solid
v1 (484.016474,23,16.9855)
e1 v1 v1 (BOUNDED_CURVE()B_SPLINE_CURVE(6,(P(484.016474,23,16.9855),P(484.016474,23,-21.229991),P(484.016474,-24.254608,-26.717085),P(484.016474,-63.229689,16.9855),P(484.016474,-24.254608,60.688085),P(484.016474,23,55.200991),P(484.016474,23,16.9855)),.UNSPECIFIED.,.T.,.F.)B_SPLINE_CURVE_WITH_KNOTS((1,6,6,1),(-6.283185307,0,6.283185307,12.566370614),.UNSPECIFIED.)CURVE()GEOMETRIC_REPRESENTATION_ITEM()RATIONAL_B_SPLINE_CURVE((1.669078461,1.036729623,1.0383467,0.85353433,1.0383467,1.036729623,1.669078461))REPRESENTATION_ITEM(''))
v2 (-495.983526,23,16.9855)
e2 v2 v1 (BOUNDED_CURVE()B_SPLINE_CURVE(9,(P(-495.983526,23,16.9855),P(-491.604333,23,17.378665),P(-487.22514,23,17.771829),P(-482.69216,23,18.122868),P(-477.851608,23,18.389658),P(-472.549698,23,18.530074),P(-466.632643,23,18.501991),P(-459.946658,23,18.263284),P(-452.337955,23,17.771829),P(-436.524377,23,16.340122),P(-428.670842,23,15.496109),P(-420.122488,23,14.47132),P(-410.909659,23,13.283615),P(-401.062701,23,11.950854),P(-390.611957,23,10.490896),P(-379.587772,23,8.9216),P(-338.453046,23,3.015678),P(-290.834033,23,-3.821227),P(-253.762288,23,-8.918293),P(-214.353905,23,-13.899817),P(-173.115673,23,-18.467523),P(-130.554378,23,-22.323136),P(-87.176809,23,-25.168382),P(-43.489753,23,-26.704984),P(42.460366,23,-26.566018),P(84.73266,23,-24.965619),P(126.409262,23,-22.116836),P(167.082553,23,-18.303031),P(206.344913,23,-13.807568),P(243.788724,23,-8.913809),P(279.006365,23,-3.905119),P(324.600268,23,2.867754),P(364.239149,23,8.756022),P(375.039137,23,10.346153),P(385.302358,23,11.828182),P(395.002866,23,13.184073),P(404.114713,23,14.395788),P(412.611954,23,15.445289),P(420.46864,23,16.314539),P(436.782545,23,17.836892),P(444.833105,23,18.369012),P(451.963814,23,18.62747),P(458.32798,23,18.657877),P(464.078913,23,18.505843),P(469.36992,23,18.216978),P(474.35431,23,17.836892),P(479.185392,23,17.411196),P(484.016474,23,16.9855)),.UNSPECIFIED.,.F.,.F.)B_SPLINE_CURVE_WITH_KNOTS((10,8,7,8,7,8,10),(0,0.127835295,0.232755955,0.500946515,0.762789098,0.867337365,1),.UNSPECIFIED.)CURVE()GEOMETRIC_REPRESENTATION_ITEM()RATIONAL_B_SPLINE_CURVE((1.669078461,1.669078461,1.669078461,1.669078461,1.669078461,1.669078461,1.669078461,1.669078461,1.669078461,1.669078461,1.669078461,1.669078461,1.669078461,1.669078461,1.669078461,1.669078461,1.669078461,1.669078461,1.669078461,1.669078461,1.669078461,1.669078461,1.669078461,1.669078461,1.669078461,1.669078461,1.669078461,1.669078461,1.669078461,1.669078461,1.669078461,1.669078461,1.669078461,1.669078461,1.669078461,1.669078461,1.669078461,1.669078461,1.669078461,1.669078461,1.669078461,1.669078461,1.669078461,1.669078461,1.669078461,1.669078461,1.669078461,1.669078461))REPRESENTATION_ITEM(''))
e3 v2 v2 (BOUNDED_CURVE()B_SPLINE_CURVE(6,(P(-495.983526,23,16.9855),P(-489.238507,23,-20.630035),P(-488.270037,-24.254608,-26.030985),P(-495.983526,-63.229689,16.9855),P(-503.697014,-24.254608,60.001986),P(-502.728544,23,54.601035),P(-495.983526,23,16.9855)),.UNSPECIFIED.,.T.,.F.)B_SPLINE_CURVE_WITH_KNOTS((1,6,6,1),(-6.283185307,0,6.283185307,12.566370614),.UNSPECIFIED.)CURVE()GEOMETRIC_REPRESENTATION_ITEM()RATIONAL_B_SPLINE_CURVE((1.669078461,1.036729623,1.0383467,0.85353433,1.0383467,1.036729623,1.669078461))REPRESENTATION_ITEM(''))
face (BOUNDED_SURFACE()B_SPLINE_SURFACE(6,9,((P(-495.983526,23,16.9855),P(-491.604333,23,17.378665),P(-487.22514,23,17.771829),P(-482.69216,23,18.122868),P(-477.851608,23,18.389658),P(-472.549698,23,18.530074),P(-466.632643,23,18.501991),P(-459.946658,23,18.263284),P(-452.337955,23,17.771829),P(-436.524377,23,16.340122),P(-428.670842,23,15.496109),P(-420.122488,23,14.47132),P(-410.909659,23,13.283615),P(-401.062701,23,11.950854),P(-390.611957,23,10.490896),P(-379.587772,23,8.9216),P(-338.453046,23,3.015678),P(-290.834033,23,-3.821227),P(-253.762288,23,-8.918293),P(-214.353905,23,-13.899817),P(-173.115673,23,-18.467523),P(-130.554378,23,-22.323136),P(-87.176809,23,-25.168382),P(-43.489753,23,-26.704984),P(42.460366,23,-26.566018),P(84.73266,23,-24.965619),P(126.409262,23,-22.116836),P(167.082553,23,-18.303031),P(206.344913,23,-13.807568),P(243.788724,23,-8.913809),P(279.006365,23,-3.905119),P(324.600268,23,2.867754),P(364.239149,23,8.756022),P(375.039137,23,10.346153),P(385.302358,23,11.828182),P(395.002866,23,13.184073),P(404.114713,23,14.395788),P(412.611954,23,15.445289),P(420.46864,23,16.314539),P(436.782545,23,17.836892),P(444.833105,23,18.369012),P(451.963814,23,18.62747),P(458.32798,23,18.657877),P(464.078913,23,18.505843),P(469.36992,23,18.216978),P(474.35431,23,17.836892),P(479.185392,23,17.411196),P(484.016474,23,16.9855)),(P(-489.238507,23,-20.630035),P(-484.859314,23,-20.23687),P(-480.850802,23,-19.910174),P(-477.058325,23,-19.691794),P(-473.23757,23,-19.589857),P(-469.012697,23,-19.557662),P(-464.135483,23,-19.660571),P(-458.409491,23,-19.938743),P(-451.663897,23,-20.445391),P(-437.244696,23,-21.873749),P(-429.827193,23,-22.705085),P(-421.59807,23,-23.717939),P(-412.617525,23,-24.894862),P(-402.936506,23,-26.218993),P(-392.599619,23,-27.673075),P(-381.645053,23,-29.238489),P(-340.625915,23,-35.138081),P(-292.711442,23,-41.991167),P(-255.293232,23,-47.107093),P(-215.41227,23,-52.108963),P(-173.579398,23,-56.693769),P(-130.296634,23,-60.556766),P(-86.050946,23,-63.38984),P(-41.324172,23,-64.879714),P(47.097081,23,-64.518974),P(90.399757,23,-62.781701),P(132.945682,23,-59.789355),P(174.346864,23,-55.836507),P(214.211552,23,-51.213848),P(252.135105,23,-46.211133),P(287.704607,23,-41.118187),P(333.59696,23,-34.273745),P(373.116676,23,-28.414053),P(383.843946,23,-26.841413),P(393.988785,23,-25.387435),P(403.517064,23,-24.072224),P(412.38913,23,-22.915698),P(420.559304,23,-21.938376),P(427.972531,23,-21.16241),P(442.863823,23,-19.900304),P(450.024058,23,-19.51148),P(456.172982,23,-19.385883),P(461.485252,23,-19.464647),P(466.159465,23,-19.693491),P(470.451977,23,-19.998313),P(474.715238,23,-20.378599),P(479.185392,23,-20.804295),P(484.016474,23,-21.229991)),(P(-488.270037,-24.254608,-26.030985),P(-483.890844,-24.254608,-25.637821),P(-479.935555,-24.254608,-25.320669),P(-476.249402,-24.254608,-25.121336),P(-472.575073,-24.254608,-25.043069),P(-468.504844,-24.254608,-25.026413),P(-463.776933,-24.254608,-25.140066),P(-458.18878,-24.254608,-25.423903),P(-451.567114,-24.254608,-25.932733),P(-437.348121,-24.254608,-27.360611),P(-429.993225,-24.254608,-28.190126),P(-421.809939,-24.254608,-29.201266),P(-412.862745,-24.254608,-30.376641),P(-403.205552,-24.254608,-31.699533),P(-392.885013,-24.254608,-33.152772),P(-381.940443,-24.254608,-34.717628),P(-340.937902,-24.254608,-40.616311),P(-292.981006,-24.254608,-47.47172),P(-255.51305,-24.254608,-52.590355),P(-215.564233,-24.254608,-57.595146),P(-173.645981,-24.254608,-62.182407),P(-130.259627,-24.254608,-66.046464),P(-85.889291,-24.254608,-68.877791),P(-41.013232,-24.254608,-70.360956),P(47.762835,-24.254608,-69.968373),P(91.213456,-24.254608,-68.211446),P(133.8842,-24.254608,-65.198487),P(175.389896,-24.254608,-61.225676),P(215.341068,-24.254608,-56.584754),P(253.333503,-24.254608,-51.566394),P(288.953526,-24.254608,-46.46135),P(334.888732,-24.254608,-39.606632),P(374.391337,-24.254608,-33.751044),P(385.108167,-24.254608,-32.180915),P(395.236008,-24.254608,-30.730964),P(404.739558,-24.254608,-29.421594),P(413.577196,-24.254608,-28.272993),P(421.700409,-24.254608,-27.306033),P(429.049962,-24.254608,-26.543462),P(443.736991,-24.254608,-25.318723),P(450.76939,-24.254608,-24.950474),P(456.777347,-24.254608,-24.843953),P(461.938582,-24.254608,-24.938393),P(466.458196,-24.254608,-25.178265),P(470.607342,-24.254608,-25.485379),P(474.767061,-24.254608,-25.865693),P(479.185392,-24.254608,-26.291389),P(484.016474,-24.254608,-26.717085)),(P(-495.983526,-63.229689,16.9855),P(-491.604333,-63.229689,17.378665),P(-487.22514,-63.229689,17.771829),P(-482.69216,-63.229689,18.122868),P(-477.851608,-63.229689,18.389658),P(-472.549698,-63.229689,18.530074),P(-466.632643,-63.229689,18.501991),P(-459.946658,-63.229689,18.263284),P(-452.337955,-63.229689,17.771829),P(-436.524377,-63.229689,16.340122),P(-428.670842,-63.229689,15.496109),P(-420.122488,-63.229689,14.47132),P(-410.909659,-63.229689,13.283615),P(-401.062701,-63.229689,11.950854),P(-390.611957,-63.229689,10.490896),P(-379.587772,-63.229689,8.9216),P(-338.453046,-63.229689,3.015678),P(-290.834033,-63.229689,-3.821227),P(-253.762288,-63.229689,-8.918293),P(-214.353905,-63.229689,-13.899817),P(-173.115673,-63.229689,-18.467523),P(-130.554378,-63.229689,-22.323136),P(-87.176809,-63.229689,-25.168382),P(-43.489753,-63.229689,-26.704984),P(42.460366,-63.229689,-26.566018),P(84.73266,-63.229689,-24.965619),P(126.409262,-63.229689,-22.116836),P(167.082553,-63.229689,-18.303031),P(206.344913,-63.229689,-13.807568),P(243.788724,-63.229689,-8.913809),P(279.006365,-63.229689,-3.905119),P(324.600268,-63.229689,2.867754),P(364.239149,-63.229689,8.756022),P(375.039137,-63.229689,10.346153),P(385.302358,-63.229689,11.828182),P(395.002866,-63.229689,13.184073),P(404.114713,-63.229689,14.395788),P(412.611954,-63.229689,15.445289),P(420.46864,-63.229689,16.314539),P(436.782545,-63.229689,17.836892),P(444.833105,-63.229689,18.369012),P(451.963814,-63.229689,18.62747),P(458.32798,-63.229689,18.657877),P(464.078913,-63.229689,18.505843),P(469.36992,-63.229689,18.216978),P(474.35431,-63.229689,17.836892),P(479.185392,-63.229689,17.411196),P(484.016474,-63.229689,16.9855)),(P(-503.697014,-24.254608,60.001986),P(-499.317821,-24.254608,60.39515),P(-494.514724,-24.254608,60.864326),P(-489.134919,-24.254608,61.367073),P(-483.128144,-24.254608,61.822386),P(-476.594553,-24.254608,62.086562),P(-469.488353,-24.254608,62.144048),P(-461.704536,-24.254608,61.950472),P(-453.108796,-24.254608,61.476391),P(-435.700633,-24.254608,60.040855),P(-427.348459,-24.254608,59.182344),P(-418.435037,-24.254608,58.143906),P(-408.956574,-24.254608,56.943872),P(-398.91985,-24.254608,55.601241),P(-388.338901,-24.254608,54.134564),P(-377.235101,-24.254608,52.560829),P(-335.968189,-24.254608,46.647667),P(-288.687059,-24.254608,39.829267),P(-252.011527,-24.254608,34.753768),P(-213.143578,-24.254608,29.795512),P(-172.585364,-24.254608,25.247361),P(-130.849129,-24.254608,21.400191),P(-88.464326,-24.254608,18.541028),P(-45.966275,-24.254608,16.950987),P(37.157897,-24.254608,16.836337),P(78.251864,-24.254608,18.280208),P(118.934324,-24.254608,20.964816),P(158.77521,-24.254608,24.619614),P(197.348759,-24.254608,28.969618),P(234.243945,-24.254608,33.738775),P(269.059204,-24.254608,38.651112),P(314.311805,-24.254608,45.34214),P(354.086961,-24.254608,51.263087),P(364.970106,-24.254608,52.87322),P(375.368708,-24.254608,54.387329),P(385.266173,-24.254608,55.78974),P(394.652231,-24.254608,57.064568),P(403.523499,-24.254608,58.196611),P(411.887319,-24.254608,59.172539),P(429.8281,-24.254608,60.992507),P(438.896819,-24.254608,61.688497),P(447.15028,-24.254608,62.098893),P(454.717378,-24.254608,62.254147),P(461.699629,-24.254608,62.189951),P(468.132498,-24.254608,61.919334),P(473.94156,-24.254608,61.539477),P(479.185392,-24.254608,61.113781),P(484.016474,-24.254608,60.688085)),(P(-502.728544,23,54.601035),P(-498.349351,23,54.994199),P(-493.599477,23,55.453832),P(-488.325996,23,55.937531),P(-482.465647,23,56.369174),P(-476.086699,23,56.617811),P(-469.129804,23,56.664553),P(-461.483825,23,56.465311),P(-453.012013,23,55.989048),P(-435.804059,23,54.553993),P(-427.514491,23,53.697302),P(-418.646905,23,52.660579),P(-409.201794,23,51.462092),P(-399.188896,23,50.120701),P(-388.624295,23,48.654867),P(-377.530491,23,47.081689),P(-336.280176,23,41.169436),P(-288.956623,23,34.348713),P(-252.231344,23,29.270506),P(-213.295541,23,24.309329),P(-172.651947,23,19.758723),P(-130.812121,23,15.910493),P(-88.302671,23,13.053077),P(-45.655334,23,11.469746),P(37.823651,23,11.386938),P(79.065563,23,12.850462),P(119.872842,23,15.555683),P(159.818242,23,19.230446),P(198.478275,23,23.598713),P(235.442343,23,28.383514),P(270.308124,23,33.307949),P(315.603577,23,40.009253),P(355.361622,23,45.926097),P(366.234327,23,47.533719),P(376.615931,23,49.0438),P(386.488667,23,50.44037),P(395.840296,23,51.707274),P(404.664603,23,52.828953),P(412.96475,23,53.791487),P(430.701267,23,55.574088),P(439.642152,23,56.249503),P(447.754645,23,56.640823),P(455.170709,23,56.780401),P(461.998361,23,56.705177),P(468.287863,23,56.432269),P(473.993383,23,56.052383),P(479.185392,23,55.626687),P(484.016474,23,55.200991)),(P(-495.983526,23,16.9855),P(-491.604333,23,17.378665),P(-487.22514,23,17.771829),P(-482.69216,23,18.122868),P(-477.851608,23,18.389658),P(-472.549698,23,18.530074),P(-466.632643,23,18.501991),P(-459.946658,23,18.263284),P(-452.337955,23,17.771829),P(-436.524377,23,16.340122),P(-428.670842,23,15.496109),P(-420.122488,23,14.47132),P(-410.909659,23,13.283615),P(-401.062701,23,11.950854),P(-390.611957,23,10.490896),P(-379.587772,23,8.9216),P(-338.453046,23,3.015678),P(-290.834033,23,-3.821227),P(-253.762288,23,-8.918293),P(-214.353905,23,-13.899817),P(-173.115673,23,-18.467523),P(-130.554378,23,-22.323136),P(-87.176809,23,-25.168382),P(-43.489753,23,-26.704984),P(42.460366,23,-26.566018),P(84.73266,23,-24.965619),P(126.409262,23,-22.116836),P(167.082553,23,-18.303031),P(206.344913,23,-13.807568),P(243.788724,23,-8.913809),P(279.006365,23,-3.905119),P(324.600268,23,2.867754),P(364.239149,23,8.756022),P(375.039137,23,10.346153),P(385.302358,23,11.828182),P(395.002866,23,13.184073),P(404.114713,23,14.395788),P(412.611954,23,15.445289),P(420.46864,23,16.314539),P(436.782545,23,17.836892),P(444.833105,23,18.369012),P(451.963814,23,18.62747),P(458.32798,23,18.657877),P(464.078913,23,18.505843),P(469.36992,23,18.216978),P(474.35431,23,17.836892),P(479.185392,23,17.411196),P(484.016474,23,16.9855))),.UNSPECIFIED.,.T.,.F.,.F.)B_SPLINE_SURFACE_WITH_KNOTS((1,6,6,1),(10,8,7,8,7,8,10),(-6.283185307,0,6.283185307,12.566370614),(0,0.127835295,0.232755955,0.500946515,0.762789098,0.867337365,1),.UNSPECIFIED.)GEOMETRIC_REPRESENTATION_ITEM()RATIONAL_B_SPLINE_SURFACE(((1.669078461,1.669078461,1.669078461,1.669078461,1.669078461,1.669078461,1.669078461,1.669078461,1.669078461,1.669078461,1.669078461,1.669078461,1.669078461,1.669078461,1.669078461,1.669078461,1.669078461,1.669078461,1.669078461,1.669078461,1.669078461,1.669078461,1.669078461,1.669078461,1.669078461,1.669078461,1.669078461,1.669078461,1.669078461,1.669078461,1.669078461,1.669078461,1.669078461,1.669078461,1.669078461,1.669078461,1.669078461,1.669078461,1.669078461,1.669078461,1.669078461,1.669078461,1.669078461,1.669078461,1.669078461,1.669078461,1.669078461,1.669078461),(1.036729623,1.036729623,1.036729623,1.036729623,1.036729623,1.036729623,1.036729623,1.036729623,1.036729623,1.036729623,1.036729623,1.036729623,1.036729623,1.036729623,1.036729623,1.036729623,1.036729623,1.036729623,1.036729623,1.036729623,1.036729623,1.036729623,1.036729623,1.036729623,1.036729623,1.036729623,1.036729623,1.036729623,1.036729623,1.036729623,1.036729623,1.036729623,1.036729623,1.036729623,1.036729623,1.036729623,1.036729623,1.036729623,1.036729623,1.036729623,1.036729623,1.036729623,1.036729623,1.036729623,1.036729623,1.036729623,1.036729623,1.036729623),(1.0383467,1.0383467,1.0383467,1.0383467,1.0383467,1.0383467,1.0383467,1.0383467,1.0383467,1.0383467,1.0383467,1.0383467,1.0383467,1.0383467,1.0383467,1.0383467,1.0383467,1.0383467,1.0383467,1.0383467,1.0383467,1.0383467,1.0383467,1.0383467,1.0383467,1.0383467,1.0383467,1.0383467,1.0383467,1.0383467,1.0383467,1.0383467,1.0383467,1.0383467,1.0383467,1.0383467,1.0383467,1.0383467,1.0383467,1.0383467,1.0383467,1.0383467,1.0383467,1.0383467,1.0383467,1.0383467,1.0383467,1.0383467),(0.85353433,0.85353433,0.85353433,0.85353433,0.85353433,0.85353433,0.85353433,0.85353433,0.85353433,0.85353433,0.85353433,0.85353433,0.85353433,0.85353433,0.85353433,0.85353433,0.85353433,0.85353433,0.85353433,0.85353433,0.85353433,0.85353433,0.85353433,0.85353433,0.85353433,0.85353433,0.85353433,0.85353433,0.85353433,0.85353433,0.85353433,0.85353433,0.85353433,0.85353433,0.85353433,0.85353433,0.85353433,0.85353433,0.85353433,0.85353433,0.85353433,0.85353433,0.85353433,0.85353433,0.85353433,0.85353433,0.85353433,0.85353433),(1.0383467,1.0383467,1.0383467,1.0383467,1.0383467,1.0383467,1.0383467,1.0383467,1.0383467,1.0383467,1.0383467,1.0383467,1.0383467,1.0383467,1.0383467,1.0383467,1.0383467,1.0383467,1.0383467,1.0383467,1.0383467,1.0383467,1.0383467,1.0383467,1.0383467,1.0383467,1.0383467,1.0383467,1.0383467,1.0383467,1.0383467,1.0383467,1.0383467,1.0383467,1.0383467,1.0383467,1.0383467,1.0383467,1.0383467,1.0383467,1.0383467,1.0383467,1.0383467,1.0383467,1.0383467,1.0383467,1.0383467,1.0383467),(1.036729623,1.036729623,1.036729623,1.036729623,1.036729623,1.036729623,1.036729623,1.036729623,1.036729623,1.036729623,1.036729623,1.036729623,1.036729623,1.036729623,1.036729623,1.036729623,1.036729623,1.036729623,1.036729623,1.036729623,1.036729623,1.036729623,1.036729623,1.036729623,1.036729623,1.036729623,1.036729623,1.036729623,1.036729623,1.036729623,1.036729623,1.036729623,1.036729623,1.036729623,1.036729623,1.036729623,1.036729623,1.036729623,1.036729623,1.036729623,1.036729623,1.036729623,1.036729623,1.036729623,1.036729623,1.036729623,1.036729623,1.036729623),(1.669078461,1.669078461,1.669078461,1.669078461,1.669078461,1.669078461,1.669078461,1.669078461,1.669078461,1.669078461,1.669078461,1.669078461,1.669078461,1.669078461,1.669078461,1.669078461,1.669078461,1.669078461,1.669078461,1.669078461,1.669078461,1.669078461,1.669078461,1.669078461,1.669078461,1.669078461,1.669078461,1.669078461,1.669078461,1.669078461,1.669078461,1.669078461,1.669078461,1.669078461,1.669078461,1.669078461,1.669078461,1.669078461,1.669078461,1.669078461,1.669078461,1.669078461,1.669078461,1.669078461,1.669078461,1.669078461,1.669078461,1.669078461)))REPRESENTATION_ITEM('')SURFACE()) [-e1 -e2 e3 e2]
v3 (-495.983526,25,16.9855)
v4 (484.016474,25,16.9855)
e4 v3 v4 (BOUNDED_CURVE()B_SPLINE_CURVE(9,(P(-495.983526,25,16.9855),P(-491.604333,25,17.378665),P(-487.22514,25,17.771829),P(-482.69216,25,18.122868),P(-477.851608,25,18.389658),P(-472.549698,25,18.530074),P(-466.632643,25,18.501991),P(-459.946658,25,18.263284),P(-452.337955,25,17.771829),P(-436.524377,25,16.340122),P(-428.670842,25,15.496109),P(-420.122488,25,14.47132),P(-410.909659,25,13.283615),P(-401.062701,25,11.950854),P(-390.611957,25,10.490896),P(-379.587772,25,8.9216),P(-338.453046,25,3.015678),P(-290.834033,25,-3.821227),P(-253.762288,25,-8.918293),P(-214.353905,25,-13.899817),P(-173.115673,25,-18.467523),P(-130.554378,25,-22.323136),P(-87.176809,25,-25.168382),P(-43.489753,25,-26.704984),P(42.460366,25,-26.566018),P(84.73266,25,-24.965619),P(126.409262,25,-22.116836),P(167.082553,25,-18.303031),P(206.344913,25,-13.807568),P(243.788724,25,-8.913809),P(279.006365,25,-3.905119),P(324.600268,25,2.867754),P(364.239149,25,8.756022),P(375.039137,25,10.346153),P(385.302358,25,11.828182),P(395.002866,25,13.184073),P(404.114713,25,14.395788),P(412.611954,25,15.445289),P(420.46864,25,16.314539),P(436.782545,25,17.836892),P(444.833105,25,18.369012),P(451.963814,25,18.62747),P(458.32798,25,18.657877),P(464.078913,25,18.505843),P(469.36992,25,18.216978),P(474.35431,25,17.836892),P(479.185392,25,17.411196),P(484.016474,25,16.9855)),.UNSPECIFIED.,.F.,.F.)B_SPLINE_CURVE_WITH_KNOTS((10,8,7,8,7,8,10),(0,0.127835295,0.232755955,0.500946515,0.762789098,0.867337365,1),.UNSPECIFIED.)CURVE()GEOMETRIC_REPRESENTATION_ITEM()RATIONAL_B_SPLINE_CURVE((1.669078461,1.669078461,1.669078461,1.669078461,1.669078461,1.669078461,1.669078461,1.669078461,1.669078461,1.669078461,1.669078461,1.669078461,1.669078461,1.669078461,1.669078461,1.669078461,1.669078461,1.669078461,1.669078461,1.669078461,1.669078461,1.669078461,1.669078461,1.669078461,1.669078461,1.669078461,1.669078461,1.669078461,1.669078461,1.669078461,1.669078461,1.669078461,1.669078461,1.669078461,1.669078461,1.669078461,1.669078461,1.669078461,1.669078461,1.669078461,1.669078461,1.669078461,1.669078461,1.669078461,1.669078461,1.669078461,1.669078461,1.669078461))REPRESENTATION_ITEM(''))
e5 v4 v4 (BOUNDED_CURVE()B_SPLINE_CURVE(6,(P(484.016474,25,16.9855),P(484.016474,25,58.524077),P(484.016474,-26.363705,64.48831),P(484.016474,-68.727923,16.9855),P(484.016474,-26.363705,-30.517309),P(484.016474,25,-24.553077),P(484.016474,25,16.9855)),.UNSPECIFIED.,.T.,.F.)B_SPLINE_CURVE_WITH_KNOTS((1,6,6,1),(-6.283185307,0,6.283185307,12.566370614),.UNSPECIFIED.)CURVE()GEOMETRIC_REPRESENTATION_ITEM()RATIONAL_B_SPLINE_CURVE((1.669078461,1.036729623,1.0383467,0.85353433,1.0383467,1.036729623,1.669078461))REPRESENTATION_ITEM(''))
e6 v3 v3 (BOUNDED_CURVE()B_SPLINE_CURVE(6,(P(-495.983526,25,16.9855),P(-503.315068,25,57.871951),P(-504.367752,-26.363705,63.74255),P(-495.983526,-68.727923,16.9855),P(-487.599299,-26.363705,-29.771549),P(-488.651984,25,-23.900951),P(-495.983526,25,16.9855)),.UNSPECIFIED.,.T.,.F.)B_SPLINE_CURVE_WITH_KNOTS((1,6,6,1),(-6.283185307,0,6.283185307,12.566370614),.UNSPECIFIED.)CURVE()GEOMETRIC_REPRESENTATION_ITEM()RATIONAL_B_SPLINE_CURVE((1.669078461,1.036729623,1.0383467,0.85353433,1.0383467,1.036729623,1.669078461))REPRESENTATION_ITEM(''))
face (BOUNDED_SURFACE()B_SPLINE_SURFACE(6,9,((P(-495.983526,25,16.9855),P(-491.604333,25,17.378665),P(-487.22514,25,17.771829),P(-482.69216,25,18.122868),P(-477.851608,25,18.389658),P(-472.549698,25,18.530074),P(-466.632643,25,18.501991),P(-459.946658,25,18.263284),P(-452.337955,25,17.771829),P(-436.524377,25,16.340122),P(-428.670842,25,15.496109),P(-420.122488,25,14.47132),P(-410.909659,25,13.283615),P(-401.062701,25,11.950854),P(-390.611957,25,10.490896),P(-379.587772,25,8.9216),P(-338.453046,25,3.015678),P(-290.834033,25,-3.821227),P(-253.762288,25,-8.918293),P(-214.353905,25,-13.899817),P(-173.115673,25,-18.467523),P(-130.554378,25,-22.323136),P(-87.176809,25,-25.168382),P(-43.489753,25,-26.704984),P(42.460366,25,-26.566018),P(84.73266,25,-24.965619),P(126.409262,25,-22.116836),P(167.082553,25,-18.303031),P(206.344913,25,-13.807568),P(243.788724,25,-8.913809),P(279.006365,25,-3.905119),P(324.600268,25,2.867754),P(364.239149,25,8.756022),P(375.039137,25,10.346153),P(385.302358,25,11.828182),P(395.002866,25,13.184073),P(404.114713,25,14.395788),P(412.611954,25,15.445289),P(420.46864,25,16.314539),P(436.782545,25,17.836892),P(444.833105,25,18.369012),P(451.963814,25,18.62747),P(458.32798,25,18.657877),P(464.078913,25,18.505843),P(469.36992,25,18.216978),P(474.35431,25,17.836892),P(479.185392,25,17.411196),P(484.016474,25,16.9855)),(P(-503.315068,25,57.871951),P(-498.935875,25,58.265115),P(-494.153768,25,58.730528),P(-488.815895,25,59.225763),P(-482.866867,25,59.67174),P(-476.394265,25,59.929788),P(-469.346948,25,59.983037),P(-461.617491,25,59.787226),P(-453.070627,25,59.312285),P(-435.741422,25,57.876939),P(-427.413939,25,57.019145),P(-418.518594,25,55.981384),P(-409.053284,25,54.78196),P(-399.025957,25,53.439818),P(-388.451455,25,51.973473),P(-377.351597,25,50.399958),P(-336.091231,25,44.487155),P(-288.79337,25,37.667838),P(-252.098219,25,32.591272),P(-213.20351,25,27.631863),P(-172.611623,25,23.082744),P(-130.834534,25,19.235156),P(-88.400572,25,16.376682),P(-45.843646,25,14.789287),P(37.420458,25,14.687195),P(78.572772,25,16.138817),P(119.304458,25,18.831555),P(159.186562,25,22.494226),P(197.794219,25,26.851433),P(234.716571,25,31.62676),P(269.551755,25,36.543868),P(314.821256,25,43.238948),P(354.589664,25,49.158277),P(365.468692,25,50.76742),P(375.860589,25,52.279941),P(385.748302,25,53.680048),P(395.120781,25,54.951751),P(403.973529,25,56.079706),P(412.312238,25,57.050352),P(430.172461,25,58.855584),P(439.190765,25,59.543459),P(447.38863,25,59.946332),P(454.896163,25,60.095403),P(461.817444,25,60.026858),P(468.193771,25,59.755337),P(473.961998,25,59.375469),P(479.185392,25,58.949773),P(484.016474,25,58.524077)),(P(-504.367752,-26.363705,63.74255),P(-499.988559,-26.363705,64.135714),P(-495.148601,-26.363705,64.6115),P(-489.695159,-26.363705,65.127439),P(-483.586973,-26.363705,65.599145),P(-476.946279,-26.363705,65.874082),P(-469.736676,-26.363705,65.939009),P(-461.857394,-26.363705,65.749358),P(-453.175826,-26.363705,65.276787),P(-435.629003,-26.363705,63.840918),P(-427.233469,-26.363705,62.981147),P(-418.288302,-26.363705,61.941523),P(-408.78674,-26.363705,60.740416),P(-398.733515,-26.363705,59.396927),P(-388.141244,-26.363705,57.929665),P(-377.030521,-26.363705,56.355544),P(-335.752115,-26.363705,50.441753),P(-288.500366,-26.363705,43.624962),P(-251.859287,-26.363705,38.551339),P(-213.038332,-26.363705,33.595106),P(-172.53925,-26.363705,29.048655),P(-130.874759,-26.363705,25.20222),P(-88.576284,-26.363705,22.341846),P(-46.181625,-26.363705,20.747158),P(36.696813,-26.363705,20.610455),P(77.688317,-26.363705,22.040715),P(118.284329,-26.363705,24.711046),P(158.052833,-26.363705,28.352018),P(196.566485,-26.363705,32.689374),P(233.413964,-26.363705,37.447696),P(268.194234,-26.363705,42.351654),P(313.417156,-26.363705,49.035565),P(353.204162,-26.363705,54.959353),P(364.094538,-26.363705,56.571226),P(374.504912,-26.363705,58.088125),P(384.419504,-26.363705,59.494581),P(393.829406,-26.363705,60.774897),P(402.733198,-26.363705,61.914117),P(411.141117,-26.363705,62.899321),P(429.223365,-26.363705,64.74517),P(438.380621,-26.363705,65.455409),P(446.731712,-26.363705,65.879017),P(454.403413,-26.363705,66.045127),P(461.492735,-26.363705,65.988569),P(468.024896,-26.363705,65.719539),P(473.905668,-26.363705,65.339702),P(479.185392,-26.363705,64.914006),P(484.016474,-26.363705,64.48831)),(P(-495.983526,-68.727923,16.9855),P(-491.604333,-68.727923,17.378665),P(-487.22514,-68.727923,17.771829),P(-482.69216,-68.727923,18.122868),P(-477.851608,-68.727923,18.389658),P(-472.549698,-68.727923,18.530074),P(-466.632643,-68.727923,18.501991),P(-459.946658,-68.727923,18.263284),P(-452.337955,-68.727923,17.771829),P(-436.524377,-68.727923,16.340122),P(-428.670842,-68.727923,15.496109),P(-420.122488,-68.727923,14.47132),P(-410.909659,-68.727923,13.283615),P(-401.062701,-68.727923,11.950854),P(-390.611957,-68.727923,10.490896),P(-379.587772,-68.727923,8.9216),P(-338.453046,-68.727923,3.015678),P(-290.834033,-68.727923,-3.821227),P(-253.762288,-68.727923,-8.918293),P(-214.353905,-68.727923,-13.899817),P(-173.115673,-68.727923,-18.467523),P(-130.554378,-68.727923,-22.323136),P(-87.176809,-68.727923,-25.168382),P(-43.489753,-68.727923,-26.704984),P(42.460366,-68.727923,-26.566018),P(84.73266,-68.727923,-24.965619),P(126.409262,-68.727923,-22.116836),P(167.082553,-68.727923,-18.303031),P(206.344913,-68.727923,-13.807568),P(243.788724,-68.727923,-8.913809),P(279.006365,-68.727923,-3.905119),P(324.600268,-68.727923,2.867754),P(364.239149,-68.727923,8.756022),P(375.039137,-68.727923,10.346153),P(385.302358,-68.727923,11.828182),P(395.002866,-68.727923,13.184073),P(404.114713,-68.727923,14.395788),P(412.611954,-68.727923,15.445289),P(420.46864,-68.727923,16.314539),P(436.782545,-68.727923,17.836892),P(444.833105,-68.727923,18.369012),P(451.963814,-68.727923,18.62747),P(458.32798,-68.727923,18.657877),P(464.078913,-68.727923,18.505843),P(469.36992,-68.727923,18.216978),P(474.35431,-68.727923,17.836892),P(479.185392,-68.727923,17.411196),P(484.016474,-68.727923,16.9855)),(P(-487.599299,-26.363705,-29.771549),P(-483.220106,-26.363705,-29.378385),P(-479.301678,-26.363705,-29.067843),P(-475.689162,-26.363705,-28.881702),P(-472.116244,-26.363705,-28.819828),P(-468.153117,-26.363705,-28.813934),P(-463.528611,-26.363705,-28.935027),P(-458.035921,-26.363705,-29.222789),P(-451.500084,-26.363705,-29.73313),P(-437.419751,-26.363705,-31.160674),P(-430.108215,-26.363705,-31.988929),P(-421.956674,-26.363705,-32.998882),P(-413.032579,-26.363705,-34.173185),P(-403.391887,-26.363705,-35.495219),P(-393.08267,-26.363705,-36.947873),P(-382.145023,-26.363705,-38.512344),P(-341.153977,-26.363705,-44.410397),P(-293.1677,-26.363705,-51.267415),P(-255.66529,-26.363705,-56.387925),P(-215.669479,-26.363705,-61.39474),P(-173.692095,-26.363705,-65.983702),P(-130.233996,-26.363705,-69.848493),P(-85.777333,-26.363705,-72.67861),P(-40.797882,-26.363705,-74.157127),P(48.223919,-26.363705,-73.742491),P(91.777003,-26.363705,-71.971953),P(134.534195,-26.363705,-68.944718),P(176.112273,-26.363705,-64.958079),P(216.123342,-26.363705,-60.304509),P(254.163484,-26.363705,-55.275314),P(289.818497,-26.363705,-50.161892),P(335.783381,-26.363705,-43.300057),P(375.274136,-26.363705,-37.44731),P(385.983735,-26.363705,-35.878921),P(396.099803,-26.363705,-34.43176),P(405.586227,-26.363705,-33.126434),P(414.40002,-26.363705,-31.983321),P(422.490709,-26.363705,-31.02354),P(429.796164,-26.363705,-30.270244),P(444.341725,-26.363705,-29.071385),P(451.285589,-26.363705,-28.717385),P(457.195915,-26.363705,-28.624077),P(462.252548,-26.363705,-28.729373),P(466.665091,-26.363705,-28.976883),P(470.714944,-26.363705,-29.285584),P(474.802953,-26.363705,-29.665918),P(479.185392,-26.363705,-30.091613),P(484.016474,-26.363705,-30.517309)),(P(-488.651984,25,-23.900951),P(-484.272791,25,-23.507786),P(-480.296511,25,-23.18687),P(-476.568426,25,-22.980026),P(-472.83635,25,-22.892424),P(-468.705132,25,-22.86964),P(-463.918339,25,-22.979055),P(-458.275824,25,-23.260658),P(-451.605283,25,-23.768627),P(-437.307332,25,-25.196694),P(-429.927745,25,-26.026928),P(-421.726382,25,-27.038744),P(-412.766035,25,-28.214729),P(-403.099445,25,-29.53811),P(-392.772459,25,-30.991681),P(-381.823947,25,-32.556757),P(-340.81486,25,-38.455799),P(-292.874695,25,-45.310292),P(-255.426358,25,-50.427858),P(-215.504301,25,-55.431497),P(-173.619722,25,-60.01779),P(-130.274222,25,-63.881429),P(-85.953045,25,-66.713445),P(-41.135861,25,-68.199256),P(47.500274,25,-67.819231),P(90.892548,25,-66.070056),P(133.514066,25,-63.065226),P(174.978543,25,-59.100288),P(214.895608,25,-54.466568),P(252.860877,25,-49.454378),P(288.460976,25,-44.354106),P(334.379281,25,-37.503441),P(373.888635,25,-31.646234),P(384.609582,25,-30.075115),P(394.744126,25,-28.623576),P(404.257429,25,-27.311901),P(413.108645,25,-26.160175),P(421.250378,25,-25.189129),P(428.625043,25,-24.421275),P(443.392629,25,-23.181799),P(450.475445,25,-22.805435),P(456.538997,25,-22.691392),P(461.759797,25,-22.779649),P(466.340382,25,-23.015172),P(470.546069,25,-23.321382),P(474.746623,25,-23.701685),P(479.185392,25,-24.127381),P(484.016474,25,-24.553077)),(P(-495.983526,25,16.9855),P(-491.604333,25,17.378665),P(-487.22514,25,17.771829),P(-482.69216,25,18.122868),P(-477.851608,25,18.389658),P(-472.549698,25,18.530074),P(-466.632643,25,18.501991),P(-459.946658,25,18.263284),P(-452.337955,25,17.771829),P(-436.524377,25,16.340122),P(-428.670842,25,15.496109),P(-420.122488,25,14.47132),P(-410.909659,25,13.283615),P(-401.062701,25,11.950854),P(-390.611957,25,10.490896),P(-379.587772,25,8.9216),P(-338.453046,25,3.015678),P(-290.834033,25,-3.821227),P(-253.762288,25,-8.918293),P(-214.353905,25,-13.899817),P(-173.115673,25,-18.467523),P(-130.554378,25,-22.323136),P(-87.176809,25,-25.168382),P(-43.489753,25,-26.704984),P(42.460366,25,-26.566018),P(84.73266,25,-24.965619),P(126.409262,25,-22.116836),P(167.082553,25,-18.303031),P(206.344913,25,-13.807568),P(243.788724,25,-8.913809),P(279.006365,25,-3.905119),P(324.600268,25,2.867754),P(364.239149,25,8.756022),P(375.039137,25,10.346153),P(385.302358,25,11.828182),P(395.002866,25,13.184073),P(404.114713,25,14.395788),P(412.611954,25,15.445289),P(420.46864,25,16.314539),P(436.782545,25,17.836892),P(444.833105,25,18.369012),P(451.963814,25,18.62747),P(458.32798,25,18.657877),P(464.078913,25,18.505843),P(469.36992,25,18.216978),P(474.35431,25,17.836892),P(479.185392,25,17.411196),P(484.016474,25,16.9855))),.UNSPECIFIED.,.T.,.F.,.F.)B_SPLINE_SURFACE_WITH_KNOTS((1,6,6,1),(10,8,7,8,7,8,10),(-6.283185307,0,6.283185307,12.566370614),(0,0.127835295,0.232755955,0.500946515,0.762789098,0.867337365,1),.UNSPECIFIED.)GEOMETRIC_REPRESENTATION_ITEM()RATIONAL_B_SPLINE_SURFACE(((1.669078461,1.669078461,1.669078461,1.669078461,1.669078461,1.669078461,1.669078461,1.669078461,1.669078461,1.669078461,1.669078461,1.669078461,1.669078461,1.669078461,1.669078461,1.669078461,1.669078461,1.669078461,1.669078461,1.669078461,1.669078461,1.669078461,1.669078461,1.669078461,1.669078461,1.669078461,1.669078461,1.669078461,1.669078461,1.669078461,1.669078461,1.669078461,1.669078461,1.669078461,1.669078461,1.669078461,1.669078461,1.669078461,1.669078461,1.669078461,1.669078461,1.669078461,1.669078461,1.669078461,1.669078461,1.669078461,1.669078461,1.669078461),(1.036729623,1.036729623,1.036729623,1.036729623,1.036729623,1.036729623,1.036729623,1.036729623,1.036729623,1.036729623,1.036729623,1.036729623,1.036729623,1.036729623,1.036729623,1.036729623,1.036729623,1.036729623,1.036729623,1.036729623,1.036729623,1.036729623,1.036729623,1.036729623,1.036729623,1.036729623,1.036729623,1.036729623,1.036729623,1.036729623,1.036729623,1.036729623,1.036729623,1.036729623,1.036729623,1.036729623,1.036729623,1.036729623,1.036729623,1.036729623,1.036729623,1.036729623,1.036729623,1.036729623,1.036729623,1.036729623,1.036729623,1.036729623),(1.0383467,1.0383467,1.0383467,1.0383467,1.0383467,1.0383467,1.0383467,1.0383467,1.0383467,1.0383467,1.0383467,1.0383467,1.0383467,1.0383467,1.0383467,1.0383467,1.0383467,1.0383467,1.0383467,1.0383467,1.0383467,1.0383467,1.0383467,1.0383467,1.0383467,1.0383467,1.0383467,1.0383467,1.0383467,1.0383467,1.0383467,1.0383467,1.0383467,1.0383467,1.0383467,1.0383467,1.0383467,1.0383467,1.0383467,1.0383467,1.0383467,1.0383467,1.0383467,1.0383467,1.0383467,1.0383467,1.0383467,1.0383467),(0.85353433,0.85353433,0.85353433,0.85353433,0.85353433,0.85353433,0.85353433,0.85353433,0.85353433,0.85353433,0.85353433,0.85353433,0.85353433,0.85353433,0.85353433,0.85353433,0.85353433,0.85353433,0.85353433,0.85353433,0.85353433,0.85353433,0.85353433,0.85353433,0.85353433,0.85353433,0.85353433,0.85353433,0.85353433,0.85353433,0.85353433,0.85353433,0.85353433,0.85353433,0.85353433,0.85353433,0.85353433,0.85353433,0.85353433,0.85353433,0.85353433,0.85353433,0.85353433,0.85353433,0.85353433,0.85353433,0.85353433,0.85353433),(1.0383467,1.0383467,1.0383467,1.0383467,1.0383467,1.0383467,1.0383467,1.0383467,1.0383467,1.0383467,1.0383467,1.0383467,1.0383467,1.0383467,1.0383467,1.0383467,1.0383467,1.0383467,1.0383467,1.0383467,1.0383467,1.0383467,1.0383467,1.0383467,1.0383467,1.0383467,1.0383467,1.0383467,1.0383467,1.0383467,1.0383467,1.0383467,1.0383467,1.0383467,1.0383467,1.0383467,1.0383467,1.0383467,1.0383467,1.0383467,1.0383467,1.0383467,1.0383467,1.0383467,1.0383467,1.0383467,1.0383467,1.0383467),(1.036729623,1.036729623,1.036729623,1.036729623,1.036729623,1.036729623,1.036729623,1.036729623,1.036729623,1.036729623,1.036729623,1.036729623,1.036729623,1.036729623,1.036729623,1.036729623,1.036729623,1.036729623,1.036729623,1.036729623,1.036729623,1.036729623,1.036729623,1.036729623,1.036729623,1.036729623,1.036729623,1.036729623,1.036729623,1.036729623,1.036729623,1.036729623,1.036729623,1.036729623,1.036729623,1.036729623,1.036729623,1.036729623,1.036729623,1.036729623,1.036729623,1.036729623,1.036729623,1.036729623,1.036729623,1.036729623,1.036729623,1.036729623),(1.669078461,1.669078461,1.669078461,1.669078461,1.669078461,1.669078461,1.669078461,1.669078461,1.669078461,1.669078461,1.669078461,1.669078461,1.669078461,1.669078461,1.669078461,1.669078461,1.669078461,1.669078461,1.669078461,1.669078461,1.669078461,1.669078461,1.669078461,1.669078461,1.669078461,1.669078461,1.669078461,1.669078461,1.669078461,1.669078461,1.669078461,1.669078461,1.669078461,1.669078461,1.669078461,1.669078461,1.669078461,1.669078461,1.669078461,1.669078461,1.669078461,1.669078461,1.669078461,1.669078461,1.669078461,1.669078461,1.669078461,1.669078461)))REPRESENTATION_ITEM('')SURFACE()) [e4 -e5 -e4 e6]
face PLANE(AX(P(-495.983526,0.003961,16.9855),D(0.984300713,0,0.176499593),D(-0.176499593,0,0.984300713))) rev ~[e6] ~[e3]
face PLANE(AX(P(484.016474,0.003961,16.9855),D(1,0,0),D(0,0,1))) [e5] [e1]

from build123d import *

# Parameters (mm, degrees)
F2_R   = 25
F2_R_2 = 23


with BuildPart() as f3:
    # F3: sweep along a path in F0
    with BuildLine(Plane.XZ) as f3_path:
        add(Plane.XZ * Edge.make_bspline(
            [(-495.9835258871, 16.9855002314), (-482.8459463337, 18.1649931133), (-431.3638835713, 22.7870565863), (1.2306334857, -63.2896938807), (415.0021895894, 23.0667670629), (469.5232285912, 18.2625879224), (484.0164741129, 16.9855002314)],
            knots=[0, 0, 0, 0, 0.1278352953, 0.5009465153, 0.8673373653, 1, 1, 1, 1], degree=3))
    # F2 (on plane+point) → F3 (sweep)
    with BuildSketch(Plane.YZ.offset(484.0164741129)):
        with Locations((0, 16.9855002314)):
            Circle(F2_R)
        with Locations((0, 16.9855002314)):
            Circle(F2_R_2, mode=Mode.SUBTRACT)
    sweep(path=f3_path.line)


solid = f3.part
